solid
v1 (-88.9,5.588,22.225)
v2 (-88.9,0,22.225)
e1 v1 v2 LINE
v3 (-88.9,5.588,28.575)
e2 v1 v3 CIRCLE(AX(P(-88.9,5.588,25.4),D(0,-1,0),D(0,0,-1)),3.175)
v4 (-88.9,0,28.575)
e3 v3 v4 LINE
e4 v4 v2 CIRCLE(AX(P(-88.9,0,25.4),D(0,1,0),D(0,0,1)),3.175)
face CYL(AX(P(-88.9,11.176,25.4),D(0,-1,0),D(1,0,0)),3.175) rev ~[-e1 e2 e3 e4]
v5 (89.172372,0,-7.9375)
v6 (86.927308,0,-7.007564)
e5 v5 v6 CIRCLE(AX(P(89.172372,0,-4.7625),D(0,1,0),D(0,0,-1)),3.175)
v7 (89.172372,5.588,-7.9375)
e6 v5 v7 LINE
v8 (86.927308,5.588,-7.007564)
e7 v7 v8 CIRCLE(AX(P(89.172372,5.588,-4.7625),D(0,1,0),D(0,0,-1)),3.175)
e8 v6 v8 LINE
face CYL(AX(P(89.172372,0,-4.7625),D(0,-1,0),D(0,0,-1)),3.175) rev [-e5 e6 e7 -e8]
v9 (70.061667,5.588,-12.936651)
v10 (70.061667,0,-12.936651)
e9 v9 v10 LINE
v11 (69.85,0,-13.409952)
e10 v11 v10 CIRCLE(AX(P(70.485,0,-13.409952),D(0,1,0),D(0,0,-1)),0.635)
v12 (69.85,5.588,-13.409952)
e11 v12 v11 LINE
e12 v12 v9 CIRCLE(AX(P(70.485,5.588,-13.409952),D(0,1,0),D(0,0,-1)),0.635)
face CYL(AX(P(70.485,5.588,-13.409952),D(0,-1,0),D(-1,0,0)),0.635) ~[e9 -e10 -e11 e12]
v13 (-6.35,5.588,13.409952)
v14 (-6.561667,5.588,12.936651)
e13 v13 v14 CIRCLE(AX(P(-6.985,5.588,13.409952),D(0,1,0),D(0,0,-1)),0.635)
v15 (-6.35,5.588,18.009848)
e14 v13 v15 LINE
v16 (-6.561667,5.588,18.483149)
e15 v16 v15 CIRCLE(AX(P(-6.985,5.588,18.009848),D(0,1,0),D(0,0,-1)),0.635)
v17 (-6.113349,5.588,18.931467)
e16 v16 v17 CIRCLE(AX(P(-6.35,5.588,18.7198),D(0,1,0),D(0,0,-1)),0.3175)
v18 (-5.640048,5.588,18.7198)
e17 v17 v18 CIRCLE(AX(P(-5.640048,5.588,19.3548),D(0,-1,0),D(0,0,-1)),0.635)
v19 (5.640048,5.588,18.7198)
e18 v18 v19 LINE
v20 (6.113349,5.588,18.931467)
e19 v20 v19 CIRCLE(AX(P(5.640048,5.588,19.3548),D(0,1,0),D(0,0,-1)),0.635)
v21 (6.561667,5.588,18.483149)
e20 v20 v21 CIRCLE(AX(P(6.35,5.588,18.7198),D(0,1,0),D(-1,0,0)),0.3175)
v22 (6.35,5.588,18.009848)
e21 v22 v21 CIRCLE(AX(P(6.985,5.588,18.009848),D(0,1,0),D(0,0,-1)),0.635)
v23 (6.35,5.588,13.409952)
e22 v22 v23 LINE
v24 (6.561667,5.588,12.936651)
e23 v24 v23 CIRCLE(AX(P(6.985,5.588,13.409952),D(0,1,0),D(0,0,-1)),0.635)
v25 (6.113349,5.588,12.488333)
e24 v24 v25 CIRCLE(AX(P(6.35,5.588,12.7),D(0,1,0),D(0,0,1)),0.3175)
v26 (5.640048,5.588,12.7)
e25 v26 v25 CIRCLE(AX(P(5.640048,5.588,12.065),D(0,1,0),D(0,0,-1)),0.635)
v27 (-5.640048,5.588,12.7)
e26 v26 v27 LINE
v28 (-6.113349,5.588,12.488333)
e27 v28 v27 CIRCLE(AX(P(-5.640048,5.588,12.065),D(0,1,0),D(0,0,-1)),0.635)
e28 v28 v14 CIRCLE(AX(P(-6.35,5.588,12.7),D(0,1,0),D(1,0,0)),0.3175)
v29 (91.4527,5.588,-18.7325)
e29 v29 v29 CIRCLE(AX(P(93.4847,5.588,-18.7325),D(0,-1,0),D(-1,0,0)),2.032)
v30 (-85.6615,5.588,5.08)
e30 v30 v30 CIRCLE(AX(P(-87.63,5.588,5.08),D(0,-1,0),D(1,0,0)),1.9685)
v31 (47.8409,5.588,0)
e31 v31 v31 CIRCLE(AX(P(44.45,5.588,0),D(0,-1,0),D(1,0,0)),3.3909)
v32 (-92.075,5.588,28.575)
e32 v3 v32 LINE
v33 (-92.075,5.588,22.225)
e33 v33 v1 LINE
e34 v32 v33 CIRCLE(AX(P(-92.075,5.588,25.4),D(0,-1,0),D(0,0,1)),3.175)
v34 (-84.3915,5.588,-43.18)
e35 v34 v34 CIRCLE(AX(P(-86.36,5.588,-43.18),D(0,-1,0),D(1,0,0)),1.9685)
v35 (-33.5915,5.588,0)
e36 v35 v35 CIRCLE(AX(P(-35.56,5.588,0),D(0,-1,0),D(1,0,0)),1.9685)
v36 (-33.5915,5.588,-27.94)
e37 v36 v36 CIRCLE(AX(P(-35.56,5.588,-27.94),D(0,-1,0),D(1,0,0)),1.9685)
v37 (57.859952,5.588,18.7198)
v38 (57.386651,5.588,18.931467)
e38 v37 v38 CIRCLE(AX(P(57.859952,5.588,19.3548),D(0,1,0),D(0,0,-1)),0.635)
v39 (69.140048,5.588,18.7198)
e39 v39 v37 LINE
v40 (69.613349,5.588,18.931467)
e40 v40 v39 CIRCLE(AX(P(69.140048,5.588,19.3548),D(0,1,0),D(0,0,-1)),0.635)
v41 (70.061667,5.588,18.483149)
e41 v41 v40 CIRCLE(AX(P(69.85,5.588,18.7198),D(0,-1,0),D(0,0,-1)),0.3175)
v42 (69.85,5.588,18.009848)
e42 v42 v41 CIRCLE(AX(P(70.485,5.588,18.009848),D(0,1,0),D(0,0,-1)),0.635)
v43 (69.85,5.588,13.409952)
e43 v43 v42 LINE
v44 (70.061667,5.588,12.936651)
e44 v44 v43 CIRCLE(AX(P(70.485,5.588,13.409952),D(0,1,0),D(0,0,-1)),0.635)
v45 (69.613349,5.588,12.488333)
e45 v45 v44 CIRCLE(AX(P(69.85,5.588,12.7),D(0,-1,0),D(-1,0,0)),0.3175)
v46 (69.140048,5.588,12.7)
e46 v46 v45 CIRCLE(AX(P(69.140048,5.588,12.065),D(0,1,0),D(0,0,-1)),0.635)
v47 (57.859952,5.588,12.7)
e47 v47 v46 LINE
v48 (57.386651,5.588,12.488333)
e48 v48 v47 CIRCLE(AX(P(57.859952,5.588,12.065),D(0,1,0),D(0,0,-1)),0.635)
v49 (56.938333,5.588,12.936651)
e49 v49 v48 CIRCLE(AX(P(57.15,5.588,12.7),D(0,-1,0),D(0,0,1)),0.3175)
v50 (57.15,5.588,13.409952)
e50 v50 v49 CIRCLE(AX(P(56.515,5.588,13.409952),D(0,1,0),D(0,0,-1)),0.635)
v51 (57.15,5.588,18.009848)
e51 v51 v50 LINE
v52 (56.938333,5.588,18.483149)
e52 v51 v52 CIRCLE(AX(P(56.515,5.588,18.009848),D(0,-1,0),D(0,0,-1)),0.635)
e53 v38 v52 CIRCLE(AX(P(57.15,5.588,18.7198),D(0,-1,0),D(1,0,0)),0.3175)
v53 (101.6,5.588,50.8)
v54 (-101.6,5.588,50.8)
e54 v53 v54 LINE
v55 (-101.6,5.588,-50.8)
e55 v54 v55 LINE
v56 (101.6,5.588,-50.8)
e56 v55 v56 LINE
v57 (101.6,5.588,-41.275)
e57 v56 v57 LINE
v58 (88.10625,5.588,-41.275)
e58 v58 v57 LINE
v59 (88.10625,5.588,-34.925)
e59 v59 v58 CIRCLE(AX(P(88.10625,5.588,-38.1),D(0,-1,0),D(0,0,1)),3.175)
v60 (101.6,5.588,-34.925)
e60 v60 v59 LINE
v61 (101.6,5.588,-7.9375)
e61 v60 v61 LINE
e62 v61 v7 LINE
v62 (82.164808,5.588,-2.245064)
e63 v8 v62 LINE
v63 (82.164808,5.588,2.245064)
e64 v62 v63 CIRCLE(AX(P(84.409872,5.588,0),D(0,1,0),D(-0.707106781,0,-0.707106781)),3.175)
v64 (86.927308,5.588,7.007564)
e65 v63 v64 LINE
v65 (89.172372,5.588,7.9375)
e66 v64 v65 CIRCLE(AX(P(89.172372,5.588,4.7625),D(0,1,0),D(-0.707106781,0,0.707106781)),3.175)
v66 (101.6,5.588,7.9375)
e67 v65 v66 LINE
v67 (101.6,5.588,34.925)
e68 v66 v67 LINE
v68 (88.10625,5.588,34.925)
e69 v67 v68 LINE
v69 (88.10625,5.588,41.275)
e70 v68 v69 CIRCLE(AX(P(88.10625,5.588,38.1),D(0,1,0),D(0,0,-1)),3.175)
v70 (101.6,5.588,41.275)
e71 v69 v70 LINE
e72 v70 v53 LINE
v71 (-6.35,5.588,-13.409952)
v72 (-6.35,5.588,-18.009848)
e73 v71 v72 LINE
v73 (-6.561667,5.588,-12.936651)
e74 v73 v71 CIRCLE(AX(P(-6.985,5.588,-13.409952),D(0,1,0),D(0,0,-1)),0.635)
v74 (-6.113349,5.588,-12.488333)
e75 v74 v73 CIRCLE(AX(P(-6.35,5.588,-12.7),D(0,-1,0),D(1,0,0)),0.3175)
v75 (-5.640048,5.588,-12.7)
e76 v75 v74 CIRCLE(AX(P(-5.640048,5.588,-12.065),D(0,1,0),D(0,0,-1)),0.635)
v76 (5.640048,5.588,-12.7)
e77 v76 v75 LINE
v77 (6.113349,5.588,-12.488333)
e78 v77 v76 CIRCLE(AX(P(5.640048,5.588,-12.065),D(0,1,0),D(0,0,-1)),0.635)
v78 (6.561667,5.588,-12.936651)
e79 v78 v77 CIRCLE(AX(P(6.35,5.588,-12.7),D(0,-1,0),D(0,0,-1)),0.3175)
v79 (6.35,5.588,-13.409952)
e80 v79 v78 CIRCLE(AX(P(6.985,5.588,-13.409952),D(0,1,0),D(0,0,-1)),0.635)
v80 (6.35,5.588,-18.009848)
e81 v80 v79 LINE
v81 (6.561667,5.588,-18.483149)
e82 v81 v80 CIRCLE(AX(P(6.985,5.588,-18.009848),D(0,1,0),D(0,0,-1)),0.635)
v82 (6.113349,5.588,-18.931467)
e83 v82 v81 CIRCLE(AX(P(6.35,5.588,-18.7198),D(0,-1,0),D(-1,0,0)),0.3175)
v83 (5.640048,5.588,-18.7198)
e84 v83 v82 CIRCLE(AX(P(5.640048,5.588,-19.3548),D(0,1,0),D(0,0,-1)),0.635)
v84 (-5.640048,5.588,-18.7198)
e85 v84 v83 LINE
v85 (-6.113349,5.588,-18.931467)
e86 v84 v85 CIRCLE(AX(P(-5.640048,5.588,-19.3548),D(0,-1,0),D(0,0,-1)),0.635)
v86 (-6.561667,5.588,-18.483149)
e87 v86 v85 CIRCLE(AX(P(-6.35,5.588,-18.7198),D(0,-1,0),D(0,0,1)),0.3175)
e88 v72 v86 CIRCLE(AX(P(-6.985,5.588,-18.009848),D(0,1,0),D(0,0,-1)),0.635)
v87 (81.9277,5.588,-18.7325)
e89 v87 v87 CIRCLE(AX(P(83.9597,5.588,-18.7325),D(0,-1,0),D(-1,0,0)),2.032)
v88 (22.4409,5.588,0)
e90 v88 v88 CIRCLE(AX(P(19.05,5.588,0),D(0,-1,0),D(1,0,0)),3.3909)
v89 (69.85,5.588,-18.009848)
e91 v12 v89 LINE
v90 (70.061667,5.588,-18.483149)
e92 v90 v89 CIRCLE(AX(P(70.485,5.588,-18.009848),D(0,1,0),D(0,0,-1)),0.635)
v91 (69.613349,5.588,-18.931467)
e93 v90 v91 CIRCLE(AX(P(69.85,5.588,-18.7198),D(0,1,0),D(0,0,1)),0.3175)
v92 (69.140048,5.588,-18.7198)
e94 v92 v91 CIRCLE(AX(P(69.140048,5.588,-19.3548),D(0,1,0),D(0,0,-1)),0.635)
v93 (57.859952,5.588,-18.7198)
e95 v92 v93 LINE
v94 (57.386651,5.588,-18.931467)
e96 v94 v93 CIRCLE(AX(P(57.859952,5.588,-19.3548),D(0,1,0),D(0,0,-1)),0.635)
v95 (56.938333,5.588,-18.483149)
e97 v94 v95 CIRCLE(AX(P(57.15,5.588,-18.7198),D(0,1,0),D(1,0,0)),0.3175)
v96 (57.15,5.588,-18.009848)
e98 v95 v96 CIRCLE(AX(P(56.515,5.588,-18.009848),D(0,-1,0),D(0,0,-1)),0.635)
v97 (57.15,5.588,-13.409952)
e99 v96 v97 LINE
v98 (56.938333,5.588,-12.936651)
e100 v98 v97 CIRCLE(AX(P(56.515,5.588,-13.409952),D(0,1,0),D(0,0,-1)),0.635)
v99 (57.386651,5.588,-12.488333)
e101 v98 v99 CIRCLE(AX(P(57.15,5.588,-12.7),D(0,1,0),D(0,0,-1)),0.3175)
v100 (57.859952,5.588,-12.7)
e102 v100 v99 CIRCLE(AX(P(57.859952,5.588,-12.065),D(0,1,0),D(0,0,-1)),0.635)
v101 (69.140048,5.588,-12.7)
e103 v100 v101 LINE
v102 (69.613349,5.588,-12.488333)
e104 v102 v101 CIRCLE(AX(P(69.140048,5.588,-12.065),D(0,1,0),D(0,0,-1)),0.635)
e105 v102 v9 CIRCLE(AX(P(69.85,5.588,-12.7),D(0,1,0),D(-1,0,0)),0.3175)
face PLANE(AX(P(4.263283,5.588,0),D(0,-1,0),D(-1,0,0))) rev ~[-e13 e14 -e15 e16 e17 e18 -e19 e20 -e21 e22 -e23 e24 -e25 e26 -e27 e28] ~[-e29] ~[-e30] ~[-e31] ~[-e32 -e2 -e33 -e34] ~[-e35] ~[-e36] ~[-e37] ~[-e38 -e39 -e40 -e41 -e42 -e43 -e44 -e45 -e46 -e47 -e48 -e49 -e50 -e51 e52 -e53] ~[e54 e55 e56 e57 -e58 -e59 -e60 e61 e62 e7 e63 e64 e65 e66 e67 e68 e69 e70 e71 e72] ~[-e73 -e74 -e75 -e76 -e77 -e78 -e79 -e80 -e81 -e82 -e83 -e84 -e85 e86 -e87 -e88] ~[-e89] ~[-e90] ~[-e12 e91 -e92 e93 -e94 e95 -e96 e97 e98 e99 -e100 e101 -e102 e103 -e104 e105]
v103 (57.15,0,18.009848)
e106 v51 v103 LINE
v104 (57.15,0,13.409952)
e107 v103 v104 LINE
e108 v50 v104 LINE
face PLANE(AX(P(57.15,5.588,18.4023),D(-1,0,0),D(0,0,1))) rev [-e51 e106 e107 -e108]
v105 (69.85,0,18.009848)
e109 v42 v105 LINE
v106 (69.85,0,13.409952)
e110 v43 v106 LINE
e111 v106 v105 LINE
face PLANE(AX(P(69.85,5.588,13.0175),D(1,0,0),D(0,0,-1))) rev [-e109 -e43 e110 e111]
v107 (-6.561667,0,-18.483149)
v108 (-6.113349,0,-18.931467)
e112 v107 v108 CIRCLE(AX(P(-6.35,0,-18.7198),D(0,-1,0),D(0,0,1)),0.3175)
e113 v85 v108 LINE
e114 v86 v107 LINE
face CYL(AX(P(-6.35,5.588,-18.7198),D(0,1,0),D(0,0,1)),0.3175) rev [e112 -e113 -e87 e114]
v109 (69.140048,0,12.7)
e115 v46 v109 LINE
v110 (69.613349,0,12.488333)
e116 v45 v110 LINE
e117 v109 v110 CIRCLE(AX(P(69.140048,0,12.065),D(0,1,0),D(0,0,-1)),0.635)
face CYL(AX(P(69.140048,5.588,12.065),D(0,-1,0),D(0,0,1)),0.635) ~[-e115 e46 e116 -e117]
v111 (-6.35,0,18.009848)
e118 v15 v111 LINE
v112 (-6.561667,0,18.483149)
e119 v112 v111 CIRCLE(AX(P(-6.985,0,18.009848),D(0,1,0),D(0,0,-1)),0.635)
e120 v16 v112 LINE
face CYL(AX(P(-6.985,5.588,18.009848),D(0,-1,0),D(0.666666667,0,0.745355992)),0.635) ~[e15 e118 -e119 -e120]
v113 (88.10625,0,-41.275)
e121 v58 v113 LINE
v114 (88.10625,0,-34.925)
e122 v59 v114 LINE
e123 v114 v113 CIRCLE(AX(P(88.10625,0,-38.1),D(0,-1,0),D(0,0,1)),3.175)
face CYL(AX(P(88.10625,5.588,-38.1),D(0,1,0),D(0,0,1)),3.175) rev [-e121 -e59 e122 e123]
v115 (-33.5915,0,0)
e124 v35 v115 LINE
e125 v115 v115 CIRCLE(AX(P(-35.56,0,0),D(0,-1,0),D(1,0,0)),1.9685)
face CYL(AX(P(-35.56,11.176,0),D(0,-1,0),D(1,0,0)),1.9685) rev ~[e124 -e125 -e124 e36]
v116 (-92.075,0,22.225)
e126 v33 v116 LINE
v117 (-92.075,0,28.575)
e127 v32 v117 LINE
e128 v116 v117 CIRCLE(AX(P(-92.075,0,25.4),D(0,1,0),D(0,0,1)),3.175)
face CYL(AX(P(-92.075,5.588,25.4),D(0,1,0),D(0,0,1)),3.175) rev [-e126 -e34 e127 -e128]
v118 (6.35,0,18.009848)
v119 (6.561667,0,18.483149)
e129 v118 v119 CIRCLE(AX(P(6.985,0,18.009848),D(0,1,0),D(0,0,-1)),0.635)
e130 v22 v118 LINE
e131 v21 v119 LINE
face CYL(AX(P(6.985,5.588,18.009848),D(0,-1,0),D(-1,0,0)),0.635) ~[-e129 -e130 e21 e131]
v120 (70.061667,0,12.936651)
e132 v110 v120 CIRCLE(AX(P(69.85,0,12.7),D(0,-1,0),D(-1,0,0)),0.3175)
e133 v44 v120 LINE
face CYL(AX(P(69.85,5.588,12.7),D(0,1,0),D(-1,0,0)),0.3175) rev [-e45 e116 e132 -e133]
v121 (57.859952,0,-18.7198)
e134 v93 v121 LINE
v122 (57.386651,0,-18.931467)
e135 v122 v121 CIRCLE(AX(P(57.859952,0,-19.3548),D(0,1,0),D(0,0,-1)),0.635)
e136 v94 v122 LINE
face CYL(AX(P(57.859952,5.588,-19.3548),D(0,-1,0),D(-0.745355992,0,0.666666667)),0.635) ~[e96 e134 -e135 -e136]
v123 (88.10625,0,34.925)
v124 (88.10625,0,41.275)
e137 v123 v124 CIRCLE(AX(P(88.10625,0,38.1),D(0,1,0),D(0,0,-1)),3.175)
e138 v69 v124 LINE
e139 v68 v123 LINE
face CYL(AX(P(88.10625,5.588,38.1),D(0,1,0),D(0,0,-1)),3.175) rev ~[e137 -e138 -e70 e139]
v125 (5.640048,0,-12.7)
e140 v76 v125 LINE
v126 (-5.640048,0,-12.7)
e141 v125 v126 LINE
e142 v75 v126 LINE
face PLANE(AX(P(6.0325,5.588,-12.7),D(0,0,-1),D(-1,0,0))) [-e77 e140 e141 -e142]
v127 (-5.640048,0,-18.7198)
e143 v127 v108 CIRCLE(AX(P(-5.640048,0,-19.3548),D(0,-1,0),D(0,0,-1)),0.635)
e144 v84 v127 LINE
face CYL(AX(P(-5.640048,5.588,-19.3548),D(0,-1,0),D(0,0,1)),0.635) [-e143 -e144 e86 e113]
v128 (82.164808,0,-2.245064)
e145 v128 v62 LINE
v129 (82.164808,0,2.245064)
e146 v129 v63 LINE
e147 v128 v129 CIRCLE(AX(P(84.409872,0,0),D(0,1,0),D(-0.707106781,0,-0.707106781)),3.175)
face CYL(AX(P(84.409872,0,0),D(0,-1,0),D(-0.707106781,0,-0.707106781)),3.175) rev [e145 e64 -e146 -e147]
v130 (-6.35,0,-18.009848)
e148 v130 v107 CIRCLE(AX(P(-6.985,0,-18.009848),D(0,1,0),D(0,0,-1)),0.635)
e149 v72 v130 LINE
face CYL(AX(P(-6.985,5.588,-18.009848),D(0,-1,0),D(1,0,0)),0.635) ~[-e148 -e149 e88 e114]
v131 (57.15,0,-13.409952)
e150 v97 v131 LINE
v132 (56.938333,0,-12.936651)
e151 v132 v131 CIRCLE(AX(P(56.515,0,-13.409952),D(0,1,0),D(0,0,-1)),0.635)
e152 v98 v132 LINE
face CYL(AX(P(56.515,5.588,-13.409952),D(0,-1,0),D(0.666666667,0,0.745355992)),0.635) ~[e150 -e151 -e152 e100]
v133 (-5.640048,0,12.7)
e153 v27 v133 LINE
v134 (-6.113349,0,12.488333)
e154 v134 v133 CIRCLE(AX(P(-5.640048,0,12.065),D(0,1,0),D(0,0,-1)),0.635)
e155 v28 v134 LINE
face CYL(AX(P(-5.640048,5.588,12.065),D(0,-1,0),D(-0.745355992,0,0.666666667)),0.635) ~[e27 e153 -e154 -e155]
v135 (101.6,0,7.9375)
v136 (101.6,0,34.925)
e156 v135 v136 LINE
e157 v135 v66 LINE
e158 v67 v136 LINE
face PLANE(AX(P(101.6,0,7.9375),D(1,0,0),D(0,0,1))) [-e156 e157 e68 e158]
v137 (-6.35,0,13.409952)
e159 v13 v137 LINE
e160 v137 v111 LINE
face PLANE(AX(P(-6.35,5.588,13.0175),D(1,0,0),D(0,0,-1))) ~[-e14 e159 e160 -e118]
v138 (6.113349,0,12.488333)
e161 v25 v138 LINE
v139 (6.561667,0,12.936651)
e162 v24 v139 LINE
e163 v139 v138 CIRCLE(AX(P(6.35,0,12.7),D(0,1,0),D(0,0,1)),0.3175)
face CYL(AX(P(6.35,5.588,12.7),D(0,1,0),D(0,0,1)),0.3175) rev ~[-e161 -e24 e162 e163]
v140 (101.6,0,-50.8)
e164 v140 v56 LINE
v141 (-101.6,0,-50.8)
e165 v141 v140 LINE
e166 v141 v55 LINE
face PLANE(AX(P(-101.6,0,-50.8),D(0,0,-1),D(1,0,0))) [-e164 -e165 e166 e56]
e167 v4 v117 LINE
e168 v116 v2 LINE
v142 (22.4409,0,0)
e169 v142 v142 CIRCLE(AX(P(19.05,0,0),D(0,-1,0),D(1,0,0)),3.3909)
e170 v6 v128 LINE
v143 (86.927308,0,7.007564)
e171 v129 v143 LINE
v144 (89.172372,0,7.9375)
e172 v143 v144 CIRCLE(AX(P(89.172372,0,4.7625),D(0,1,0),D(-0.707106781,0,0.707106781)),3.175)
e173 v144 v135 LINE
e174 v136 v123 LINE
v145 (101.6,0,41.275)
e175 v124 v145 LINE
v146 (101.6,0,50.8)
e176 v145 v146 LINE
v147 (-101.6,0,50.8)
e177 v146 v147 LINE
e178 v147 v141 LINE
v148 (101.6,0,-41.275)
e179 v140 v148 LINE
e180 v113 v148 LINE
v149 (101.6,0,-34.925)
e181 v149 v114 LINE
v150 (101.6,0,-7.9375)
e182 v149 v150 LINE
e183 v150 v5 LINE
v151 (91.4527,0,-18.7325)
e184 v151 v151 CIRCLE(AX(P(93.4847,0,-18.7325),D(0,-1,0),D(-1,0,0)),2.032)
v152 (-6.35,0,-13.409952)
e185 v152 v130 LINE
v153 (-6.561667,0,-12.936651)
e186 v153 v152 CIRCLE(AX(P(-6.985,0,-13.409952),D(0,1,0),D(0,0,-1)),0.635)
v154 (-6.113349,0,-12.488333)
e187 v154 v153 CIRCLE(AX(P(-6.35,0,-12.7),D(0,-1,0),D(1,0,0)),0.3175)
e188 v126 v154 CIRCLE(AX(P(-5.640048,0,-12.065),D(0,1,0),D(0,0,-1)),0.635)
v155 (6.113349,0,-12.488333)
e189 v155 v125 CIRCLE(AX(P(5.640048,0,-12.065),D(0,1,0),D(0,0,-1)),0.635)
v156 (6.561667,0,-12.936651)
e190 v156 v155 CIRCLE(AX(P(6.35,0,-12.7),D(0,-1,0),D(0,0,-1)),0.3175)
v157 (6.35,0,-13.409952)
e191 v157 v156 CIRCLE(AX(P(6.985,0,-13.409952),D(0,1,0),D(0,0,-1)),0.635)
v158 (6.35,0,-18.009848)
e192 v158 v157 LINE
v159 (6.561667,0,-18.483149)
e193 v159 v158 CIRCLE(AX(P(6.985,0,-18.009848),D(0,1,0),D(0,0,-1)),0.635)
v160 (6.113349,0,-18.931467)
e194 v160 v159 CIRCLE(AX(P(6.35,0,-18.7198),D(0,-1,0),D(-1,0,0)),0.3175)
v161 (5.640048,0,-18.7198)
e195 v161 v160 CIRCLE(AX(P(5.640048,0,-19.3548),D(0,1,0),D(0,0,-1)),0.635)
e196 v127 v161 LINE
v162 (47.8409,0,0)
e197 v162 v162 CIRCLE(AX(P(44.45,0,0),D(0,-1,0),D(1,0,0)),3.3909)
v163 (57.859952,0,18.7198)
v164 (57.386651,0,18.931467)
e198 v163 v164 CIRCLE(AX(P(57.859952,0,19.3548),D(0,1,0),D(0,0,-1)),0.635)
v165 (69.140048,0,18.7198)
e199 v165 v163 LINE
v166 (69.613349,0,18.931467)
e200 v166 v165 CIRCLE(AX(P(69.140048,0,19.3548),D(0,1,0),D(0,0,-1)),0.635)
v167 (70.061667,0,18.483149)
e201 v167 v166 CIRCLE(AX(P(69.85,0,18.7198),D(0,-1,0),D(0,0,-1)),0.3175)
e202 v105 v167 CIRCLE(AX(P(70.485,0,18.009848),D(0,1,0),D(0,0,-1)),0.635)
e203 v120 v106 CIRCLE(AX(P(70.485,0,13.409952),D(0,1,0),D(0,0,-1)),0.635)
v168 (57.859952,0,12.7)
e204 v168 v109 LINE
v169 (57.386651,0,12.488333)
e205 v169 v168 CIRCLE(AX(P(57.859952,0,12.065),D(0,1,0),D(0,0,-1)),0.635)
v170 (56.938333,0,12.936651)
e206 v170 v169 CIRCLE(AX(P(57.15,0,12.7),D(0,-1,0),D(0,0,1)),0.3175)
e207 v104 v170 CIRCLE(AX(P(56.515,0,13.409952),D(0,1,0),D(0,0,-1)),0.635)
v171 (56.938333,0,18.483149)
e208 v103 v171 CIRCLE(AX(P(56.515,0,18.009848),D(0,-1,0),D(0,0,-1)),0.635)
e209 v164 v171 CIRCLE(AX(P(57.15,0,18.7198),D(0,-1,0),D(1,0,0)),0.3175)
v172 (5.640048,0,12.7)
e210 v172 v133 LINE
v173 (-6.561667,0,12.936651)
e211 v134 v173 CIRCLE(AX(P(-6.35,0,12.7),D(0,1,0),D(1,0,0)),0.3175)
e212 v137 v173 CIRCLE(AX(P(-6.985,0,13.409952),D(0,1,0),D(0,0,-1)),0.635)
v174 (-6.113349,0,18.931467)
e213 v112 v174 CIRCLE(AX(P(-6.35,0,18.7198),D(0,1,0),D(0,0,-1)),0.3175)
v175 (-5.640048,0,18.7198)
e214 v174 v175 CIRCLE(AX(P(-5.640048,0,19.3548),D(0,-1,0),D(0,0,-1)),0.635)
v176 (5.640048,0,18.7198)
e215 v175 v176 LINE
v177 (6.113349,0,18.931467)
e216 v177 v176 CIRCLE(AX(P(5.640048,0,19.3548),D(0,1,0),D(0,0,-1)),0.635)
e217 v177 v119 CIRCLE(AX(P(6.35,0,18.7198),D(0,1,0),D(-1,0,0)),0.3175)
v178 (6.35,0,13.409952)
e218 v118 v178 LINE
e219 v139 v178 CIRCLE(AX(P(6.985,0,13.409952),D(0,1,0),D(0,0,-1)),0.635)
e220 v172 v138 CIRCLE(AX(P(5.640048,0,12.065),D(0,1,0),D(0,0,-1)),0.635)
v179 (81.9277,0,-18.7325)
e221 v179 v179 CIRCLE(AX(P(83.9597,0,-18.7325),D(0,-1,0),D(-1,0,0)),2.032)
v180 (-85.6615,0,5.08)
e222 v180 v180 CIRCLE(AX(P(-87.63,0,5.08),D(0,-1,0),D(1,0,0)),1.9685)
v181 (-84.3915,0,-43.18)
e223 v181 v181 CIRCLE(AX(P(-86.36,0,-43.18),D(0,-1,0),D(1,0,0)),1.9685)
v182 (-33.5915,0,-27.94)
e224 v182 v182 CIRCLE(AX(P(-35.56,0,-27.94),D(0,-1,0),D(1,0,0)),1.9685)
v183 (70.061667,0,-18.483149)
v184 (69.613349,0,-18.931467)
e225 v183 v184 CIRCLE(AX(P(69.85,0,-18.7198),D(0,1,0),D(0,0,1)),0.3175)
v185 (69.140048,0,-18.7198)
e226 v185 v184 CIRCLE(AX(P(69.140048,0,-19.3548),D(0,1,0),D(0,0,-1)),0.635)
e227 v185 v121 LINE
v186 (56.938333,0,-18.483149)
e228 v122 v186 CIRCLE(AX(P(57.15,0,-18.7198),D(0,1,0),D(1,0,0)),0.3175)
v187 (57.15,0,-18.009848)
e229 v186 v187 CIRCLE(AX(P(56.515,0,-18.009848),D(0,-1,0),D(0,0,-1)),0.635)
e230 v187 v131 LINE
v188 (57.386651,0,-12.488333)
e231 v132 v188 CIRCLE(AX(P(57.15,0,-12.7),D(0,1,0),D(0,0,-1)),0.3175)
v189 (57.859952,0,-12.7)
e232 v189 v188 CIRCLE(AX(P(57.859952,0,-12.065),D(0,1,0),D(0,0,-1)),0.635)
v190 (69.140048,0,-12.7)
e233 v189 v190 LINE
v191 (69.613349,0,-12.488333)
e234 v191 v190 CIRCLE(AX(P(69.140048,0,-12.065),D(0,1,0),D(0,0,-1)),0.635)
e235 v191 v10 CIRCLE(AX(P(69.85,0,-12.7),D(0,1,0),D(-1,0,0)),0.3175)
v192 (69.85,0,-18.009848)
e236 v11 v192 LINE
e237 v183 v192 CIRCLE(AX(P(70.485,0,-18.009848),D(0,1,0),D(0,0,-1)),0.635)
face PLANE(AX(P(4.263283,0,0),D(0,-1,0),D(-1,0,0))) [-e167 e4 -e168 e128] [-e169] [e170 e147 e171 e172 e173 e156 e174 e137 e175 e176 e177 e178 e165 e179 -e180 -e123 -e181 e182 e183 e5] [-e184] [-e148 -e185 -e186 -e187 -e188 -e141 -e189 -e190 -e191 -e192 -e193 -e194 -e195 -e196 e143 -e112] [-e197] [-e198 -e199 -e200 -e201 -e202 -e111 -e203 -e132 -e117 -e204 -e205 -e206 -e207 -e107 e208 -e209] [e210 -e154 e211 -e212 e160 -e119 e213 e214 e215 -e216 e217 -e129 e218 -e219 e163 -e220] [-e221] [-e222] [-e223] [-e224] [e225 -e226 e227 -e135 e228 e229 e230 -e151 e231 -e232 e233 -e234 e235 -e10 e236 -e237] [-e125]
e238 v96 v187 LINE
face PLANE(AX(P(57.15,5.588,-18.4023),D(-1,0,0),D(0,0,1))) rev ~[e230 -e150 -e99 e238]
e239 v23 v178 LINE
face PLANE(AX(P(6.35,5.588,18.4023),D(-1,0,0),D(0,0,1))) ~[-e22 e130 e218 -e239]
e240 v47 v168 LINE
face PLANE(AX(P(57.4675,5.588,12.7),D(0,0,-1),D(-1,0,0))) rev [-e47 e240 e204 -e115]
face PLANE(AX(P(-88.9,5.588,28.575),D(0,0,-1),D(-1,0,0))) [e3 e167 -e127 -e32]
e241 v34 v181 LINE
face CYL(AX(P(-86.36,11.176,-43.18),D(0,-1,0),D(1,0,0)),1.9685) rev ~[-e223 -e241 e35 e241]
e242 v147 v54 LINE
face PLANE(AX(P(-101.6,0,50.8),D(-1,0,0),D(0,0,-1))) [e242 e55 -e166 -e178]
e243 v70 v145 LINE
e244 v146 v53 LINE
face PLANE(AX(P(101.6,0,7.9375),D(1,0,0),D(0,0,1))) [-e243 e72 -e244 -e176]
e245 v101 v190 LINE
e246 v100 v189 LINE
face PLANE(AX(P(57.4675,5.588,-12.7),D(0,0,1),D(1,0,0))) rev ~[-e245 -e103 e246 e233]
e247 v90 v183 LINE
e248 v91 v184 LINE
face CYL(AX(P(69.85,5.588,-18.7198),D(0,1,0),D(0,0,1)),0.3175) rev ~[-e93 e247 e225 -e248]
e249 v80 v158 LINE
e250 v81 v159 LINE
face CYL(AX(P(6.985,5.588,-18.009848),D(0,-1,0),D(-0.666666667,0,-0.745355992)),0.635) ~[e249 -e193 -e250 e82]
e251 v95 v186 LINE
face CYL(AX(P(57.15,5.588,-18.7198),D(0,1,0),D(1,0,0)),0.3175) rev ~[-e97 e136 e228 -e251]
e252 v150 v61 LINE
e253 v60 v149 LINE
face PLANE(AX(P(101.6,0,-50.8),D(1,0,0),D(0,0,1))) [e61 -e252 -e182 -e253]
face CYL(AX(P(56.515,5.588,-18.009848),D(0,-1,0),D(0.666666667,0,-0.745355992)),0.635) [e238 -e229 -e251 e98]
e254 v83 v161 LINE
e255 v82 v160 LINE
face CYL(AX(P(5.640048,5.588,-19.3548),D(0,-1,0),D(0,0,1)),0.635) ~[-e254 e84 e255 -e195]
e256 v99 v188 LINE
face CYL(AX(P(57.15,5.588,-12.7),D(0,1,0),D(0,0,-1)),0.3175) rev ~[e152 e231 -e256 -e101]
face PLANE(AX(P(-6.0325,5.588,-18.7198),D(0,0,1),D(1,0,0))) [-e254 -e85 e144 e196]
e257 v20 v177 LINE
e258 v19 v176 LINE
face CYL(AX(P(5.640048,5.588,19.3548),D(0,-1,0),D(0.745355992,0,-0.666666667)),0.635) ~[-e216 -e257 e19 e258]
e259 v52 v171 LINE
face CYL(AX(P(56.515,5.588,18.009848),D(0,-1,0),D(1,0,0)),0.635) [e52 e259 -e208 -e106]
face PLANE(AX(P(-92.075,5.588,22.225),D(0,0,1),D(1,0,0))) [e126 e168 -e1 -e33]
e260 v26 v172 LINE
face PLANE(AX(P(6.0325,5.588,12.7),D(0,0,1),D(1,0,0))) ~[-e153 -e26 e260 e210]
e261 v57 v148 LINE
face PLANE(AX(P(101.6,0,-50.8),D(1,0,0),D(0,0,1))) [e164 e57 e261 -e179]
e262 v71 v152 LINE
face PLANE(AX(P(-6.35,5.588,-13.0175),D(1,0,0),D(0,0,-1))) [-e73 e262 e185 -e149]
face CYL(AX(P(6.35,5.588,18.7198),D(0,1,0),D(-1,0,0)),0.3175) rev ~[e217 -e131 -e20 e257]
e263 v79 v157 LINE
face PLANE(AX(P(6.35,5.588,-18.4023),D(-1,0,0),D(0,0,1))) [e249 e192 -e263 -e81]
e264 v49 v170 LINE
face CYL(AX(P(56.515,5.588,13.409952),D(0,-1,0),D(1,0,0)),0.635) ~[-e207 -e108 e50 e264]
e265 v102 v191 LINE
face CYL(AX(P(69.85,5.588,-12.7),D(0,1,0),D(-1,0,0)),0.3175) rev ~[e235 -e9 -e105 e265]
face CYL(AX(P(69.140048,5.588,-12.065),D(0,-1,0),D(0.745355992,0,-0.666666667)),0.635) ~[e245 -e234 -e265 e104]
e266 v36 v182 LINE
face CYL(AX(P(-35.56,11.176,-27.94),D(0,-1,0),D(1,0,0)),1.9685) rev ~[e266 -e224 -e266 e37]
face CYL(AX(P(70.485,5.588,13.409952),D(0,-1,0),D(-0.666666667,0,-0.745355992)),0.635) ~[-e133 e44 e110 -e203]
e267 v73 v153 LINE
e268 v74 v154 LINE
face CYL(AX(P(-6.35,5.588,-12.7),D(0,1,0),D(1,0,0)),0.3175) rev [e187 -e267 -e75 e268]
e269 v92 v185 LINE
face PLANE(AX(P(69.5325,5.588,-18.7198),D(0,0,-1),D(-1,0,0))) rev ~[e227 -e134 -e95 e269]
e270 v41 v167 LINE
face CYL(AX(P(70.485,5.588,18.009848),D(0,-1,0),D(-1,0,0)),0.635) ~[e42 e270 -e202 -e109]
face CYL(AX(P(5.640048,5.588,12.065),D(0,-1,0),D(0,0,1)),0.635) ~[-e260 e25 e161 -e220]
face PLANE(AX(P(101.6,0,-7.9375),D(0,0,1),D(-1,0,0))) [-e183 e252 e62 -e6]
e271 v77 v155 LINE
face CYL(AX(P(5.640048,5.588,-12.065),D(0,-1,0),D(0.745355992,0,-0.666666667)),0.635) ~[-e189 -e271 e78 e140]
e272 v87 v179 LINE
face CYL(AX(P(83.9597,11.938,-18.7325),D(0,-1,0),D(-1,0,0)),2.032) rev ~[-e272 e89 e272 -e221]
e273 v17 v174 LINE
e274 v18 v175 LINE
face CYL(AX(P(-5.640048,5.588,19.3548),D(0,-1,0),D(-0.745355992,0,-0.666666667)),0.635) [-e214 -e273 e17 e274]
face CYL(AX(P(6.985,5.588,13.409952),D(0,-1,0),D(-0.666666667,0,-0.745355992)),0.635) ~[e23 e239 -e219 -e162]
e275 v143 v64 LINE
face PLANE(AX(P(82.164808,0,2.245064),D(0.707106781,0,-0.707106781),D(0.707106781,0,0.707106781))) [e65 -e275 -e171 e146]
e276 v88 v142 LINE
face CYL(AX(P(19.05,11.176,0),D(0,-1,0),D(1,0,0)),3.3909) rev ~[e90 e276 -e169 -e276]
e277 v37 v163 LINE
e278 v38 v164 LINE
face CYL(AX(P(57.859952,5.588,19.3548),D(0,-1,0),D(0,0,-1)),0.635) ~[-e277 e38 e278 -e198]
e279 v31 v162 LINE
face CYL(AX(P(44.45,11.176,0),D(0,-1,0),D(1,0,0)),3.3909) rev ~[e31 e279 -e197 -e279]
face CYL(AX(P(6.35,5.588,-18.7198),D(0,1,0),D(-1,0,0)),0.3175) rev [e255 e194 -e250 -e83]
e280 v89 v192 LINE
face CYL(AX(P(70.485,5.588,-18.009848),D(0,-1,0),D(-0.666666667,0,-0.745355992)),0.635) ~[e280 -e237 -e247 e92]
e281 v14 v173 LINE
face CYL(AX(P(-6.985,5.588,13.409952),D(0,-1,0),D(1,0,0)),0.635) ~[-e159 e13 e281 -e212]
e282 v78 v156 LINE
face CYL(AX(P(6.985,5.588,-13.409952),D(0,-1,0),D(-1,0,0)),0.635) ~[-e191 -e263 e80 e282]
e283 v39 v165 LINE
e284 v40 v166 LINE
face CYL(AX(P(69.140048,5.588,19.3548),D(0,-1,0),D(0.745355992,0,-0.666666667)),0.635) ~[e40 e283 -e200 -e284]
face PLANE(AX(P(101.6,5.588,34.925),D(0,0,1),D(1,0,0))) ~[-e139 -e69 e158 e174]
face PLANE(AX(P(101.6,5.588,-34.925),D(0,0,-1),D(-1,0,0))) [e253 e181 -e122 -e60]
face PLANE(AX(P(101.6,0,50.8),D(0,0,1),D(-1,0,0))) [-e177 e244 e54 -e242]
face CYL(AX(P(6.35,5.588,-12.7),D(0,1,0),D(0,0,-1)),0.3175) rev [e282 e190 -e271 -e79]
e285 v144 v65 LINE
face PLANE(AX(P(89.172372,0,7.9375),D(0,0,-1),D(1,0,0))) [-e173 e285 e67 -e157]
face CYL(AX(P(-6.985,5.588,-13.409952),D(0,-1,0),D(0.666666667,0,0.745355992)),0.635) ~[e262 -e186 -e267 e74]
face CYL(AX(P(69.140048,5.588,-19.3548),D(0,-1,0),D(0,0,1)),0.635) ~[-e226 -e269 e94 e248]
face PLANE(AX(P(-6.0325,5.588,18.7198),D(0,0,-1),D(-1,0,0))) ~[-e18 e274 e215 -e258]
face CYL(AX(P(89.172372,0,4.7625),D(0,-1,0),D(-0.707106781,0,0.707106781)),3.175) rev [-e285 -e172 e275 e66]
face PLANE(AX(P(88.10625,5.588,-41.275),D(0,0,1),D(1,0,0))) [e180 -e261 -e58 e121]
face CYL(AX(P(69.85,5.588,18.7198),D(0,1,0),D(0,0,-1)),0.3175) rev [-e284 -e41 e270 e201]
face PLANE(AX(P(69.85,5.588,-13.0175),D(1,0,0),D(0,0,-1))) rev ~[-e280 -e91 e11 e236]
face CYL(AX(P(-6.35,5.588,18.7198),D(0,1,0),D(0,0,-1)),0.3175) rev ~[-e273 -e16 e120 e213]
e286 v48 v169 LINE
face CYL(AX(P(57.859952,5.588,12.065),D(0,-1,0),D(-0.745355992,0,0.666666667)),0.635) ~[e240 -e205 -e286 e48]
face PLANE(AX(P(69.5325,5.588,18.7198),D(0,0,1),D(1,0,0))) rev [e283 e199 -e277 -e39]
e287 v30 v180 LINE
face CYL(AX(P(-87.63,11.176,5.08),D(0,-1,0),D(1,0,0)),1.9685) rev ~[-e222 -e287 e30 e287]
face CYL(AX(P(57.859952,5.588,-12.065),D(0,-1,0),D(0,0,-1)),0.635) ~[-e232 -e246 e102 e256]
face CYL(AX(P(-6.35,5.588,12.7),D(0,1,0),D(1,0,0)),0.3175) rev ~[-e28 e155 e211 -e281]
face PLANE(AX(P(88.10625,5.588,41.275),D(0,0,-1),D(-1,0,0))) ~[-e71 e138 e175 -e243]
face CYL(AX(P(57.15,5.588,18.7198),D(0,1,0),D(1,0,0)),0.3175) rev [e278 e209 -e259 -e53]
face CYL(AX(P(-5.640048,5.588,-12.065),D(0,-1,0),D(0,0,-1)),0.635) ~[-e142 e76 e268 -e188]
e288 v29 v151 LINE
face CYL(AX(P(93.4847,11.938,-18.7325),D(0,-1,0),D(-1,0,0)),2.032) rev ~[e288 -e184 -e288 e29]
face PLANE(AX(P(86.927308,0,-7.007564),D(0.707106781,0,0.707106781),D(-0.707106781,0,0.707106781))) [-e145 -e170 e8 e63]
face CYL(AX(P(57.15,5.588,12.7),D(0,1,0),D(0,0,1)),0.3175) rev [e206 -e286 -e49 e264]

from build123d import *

# Parameters (mm, degrees)
BOSS_EXTRUDE1_DEPTH             = 5.588
F_1_4_CLEARANCE_HOLE1_D         = 6.35
F_1_4_CLEARANCE_HOLE1_DEPTH     = 5.588
CUT_EXTRUDE1_DEPTH              = 5.588
CUT_EXTRUDE2_REACH              = 7.588
F_4_CLEARANCE_HOLE1_D           = 3.937
F_4_CLEARANCE_HOLE1_DEPTH       = 5.588
CUT_EXTRUDE3_DEPTH              = 5.588
FILLET1_R                       = 0.635
FILLET1_OF_MIRROR2_R            = 0.635
F_10_CLEARANCE_HOLE1_D          = 6.7818
F_10_CLEARANCE_HOLE1_DEPTH      = 5.588
TAP_DRILL_FOR_4_HELICOIL1_D     = 4.064
TAP_DRILL_FOR_4_HELICOIL1_DEPTH = 6.35
TAP_DRILL_FOR_4_HELICOIL1_TIP   = 1.220948778


with BuildPart() as part:
    # Sketch1 → Boss-Extrude1 (new body)
    with BuildSketch(Plane(origin=(0, 0, 0), x_dir=(1, 0, 0), z_dir=(0, 1, 0))):
        with BuildLine():
            Line((-101.6, 50.8), (101.6, 50.8))
            Line((101.6, 50.8), (101.6, 7.9375))
            Line((101.6, 7.9375), (89.172371939, 7.9375))
            ThreePointArc((89.172371939, 7.9375), (87.957352042, 7.695817516), (86.927307909, 7.00756403))
            Line((86.927307909, 7.00756403), (82.164807909, 2.24506403))
            ThreePointArc((82.164807909, 2.24506403), (81.234871939, 0), (82.164807909, -2.24506403))
            Line((82.164807909, -2.24506403), (86.927307909, -7.00756403))
            ThreePointArc((86.927307909, -7.00756403), (87.957352042, -7.695817516), (89.172371939, -7.9375))
            Line((89.172371939, -7.9375), (101.6, -7.9375))
            Line((101.6, -7.9375), (101.6, -50.8))
            Line((101.6, -50.8), (-101.6, -50.8))
            Line((-101.6, -50.8), (-101.6, 50.8))
        make_face()
    extrude(amount=BOSS_EXTRUDE1_DEPTH)

    # 1/4 Clearance Hole1
    with Locations(Plane(origin=(0, 5.588, 0), x_dir=(-1, 0, 0), z_dir=(0, 1, 0))):
        with Locations((-88.10625, 38.1), (-88.10625, -38.1), (88.9, 25.4)):
            Hole(F_1_4_CLEARANCE_HOLE1_D / 2, depth=F_1_4_CLEARANCE_HOLE1_DEPTH)

    # Sketch4 → Cut-Extrude1 (cut)
    with BuildSketch(Plane(origin=(0, 5.588, 0), x_dir=(1, 0, 0), z_dir=(0, 1, 0))):
        with BuildLine():
            Line((88.10625, 41.275), (101.6, 41.275))
            Line((101.6, 41.275), (101.6, 34.925))
            Line((101.6, 34.925), (88.10625, 34.925))
            ThreePointArc((88.10625, 34.925), (84.93125, 38.1), (88.10625, 41.275))
        make_face()
    cut_extrude1 = extrude(amount=-CUT_EXTRUDE1_DEPTH, mode=Mode.SUBTRACT)

    # Mirror1: Cut-Extrude1 across plane
    add(cut_extrude1.mirror(Plane.XY), mode=Mode.SUBTRACT)

    # Sketch5 → Cut-Extrude2 (cut, up to next)
    with BuildSketch(Plane(origin=(0, 5.588, 0), x_dir=(1, 0, 0), z_dir=(0, 1, 0)), mode=Mode.PRIVATE) as cut_extrude2_sk1:
        with BuildLine():
            Line((-92.075, -22.225), (-88.9, -22.225))
            ThreePointArc((-88.9, -22.225), (-85.725, -25.4), (-88.9, -28.575))
            Line((-88.9, -28.575), (-92.075, -28.575))
            ThreePointArc((-92.075, -28.575), (-95.25, -25.4), (-92.075, -22.225))
        make_face()
    cut_extrude2_tool1 = extrude(cut_extrude2_sk1.sketch, amount=-CUT_EXTRUDE2_REACH, mode=Mode.PRIVATE) & part.part
    add(cut_extrude2_tool1.solids().sort_by_distance((-90.4875, 5.588, 25.4))[0], mode=Mode.SUBTRACT)

    # #4 Clearance Hole1
    with Locations(Plane(origin=(0, 5.588, 0), x_dir=(-1, 0, 0), z_dir=(0, 1, 0))):
        with Locations((86.36, -43.18), (35.56, -27.94), (35.56, 0), (87.63, 5.08)):
            Hole(F_4_CLEARANCE_HOLE1_D / 2, depth=F_4_CLEARANCE_HOLE1_DEPTH)

    # Sketch9 → Cut-Extrude3 (cut)
    with BuildSketch(Plane(origin=(0, 5.588, 0), x_dir=(1, 0, 0), z_dir=(0, 1, 0))):
        with BuildLine():
            Line((-6.0325, 18.7198), (6.0325, 18.7198))
            ThreePointArc((6.0325, 18.7198), (6.574506403, 18.944306403), (6.35, 18.4023))
            Line((6.35, 18.4023), (6.35, 13.0175))
            ThreePointArc((6.35, 13.0175), (6.574506403, 12.475493597), (6.0325, 12.7))
            Line((6.0325, 12.7), (-6.0325, 12.7))
            ThreePointArc((-6.0325, 12.7), (-6.574506403, 12.475493597), (-6.35, 13.0175))
            Line((-6.35, 13.0175), (-6.35, 18.4023))
            ThreePointArc((-6.35, 18.4023), (-6.574506403, 18.944306403), (-6.0325, 18.7198))
        make_face()
        with BuildLine():
            Line((57.15, 18.4023), (57.15, 13.0175))
            ThreePointArc((57.15, 13.0175), (56.925493597, 12.475493597), (57.4675, 12.7))
            Line((57.4675, 12.7), (69.5325, 12.7))
            ThreePointArc((69.5325, 12.7), (70.074506403, 12.475493597), (69.85, 13.0175))
            Line((69.85, 13.0175), (69.85, 18.4023))
            ThreePointArc((69.85, 18.4023), (70.074506403, 18.944306403), (69.5325, 18.7198))
            Line((69.5325, 18.7198), (57.4675, 18.7198))
            ThreePointArc((57.4675, 18.7198), (56.925493597, 18.944306403), (57.15, 18.4023))
        make_face()
    cut_extrude3 = extrude(amount=-CUT_EXTRUDE3_DEPTH, mode=Mode.SUBTRACT)

    # Fillet1
    fillet1_edges = [part.edges().sort_by_distance(p)[0] for p in [
        (-6.35, 2.794, -18.4023),
        (-6.0325, 2.794, -18.7198),
        (6.0325, 2.794, -18.7198),
        (6.35, 2.794, -18.4023),
        (6.35, 2.794, -13.0175),
        (6.0325, 2.794, -12.7),
        (-6.0325, 2.794, -12.7),
        (-6.35, 2.794, -13.0175),
        (69.85, 2.794, -13.0175),
        (69.5325, 2.794, -12.7),
        (57.4675, 2.794, -12.7),
        (57.15, 2.794, -13.0175),
        (57.15, 2.794, -18.4023),
        (57.4675, 2.794, -18.7198),
        (69.5325, 2.794, -18.7198),
        (69.85, 2.794, -18.4023),
    ]]
    fillet(fillet1_edges, radius=FILLET1_R)

    # Mirror2: Cut-Extrude3 across plane
    add(cut_extrude3.mirror(Plane.XY), mode=Mode.SUBTRACT)

    # Fillet1 of Mirror2
    fillet1_of_mirror2_edges = [part.edges().sort_by_distance(p)[0] for p in [
        (-6.35, 2.794, 18.4023),
        (-6.0325, 2.794, 18.7198),
        (6.0325, 2.794, 18.7198),
        (6.35, 2.794, 18.4023),
        (6.35, 2.794, 13.0175),
        (6.0325, 2.794, 12.7),
        (-6.0325, 2.794, 12.7),
        (-6.35, 2.794, 13.0175),
        (69.85, 2.794, 13.0175),
        (69.5325, 2.794, 12.7),
        (57.4675, 2.794, 12.7),
        (57.15, 2.794, 13.0175),
        (57.15, 2.794, 18.4023),
        (57.4675, 2.794, 18.7198),
        (69.5325, 2.794, 18.7198),
        (69.85, 2.794, 18.4023),
    ]]
    fillet(fillet1_of_mirror2_edges, radius=FILLET1_OF_MIRROR2_R)

    # #10 Clearance Hole1
    with Locations(Plane(origin=(0, 5.588, 0), x_dir=(-1, 0, 0), z_dir=(0, 1, 0))):
        with Locations((-19.05, 0), (-44.45, 0)):
            Hole(F_10_CLEARANCE_HOLE1_D / 2, depth=F_10_CLEARANCE_HOLE1_DEPTH)

    # Tap Drill for #4 Helicoil1
    with Locations(Plane(origin=(0, 5.588, 0), x_dir=(1, 0, 0), z_dir=(0, 1, 0))):
        with Locations((93.4847, 18.7325), (83.9597, 18.7325)):
            Hole(TAP_DRILL_FOR_4_HELICOIL1_D / 2, depth=TAP_DRILL_FOR_4_HELICOIL1_DEPTH)
            with Locations((0, 0, -(TAP_DRILL_FOR_4_HELICOIL1_DEPTH + TAP_DRILL_FOR_4_HELICOIL1_TIP / 2))):  # 118° drill point
                Cone(0, TAP_DRILL_FOR_4_HELICOIL1_D / 2, TAP_DRILL_FOR_4_HELICOIL1_TIP, mode=Mode.SUBTRACT)


solid = part.part
